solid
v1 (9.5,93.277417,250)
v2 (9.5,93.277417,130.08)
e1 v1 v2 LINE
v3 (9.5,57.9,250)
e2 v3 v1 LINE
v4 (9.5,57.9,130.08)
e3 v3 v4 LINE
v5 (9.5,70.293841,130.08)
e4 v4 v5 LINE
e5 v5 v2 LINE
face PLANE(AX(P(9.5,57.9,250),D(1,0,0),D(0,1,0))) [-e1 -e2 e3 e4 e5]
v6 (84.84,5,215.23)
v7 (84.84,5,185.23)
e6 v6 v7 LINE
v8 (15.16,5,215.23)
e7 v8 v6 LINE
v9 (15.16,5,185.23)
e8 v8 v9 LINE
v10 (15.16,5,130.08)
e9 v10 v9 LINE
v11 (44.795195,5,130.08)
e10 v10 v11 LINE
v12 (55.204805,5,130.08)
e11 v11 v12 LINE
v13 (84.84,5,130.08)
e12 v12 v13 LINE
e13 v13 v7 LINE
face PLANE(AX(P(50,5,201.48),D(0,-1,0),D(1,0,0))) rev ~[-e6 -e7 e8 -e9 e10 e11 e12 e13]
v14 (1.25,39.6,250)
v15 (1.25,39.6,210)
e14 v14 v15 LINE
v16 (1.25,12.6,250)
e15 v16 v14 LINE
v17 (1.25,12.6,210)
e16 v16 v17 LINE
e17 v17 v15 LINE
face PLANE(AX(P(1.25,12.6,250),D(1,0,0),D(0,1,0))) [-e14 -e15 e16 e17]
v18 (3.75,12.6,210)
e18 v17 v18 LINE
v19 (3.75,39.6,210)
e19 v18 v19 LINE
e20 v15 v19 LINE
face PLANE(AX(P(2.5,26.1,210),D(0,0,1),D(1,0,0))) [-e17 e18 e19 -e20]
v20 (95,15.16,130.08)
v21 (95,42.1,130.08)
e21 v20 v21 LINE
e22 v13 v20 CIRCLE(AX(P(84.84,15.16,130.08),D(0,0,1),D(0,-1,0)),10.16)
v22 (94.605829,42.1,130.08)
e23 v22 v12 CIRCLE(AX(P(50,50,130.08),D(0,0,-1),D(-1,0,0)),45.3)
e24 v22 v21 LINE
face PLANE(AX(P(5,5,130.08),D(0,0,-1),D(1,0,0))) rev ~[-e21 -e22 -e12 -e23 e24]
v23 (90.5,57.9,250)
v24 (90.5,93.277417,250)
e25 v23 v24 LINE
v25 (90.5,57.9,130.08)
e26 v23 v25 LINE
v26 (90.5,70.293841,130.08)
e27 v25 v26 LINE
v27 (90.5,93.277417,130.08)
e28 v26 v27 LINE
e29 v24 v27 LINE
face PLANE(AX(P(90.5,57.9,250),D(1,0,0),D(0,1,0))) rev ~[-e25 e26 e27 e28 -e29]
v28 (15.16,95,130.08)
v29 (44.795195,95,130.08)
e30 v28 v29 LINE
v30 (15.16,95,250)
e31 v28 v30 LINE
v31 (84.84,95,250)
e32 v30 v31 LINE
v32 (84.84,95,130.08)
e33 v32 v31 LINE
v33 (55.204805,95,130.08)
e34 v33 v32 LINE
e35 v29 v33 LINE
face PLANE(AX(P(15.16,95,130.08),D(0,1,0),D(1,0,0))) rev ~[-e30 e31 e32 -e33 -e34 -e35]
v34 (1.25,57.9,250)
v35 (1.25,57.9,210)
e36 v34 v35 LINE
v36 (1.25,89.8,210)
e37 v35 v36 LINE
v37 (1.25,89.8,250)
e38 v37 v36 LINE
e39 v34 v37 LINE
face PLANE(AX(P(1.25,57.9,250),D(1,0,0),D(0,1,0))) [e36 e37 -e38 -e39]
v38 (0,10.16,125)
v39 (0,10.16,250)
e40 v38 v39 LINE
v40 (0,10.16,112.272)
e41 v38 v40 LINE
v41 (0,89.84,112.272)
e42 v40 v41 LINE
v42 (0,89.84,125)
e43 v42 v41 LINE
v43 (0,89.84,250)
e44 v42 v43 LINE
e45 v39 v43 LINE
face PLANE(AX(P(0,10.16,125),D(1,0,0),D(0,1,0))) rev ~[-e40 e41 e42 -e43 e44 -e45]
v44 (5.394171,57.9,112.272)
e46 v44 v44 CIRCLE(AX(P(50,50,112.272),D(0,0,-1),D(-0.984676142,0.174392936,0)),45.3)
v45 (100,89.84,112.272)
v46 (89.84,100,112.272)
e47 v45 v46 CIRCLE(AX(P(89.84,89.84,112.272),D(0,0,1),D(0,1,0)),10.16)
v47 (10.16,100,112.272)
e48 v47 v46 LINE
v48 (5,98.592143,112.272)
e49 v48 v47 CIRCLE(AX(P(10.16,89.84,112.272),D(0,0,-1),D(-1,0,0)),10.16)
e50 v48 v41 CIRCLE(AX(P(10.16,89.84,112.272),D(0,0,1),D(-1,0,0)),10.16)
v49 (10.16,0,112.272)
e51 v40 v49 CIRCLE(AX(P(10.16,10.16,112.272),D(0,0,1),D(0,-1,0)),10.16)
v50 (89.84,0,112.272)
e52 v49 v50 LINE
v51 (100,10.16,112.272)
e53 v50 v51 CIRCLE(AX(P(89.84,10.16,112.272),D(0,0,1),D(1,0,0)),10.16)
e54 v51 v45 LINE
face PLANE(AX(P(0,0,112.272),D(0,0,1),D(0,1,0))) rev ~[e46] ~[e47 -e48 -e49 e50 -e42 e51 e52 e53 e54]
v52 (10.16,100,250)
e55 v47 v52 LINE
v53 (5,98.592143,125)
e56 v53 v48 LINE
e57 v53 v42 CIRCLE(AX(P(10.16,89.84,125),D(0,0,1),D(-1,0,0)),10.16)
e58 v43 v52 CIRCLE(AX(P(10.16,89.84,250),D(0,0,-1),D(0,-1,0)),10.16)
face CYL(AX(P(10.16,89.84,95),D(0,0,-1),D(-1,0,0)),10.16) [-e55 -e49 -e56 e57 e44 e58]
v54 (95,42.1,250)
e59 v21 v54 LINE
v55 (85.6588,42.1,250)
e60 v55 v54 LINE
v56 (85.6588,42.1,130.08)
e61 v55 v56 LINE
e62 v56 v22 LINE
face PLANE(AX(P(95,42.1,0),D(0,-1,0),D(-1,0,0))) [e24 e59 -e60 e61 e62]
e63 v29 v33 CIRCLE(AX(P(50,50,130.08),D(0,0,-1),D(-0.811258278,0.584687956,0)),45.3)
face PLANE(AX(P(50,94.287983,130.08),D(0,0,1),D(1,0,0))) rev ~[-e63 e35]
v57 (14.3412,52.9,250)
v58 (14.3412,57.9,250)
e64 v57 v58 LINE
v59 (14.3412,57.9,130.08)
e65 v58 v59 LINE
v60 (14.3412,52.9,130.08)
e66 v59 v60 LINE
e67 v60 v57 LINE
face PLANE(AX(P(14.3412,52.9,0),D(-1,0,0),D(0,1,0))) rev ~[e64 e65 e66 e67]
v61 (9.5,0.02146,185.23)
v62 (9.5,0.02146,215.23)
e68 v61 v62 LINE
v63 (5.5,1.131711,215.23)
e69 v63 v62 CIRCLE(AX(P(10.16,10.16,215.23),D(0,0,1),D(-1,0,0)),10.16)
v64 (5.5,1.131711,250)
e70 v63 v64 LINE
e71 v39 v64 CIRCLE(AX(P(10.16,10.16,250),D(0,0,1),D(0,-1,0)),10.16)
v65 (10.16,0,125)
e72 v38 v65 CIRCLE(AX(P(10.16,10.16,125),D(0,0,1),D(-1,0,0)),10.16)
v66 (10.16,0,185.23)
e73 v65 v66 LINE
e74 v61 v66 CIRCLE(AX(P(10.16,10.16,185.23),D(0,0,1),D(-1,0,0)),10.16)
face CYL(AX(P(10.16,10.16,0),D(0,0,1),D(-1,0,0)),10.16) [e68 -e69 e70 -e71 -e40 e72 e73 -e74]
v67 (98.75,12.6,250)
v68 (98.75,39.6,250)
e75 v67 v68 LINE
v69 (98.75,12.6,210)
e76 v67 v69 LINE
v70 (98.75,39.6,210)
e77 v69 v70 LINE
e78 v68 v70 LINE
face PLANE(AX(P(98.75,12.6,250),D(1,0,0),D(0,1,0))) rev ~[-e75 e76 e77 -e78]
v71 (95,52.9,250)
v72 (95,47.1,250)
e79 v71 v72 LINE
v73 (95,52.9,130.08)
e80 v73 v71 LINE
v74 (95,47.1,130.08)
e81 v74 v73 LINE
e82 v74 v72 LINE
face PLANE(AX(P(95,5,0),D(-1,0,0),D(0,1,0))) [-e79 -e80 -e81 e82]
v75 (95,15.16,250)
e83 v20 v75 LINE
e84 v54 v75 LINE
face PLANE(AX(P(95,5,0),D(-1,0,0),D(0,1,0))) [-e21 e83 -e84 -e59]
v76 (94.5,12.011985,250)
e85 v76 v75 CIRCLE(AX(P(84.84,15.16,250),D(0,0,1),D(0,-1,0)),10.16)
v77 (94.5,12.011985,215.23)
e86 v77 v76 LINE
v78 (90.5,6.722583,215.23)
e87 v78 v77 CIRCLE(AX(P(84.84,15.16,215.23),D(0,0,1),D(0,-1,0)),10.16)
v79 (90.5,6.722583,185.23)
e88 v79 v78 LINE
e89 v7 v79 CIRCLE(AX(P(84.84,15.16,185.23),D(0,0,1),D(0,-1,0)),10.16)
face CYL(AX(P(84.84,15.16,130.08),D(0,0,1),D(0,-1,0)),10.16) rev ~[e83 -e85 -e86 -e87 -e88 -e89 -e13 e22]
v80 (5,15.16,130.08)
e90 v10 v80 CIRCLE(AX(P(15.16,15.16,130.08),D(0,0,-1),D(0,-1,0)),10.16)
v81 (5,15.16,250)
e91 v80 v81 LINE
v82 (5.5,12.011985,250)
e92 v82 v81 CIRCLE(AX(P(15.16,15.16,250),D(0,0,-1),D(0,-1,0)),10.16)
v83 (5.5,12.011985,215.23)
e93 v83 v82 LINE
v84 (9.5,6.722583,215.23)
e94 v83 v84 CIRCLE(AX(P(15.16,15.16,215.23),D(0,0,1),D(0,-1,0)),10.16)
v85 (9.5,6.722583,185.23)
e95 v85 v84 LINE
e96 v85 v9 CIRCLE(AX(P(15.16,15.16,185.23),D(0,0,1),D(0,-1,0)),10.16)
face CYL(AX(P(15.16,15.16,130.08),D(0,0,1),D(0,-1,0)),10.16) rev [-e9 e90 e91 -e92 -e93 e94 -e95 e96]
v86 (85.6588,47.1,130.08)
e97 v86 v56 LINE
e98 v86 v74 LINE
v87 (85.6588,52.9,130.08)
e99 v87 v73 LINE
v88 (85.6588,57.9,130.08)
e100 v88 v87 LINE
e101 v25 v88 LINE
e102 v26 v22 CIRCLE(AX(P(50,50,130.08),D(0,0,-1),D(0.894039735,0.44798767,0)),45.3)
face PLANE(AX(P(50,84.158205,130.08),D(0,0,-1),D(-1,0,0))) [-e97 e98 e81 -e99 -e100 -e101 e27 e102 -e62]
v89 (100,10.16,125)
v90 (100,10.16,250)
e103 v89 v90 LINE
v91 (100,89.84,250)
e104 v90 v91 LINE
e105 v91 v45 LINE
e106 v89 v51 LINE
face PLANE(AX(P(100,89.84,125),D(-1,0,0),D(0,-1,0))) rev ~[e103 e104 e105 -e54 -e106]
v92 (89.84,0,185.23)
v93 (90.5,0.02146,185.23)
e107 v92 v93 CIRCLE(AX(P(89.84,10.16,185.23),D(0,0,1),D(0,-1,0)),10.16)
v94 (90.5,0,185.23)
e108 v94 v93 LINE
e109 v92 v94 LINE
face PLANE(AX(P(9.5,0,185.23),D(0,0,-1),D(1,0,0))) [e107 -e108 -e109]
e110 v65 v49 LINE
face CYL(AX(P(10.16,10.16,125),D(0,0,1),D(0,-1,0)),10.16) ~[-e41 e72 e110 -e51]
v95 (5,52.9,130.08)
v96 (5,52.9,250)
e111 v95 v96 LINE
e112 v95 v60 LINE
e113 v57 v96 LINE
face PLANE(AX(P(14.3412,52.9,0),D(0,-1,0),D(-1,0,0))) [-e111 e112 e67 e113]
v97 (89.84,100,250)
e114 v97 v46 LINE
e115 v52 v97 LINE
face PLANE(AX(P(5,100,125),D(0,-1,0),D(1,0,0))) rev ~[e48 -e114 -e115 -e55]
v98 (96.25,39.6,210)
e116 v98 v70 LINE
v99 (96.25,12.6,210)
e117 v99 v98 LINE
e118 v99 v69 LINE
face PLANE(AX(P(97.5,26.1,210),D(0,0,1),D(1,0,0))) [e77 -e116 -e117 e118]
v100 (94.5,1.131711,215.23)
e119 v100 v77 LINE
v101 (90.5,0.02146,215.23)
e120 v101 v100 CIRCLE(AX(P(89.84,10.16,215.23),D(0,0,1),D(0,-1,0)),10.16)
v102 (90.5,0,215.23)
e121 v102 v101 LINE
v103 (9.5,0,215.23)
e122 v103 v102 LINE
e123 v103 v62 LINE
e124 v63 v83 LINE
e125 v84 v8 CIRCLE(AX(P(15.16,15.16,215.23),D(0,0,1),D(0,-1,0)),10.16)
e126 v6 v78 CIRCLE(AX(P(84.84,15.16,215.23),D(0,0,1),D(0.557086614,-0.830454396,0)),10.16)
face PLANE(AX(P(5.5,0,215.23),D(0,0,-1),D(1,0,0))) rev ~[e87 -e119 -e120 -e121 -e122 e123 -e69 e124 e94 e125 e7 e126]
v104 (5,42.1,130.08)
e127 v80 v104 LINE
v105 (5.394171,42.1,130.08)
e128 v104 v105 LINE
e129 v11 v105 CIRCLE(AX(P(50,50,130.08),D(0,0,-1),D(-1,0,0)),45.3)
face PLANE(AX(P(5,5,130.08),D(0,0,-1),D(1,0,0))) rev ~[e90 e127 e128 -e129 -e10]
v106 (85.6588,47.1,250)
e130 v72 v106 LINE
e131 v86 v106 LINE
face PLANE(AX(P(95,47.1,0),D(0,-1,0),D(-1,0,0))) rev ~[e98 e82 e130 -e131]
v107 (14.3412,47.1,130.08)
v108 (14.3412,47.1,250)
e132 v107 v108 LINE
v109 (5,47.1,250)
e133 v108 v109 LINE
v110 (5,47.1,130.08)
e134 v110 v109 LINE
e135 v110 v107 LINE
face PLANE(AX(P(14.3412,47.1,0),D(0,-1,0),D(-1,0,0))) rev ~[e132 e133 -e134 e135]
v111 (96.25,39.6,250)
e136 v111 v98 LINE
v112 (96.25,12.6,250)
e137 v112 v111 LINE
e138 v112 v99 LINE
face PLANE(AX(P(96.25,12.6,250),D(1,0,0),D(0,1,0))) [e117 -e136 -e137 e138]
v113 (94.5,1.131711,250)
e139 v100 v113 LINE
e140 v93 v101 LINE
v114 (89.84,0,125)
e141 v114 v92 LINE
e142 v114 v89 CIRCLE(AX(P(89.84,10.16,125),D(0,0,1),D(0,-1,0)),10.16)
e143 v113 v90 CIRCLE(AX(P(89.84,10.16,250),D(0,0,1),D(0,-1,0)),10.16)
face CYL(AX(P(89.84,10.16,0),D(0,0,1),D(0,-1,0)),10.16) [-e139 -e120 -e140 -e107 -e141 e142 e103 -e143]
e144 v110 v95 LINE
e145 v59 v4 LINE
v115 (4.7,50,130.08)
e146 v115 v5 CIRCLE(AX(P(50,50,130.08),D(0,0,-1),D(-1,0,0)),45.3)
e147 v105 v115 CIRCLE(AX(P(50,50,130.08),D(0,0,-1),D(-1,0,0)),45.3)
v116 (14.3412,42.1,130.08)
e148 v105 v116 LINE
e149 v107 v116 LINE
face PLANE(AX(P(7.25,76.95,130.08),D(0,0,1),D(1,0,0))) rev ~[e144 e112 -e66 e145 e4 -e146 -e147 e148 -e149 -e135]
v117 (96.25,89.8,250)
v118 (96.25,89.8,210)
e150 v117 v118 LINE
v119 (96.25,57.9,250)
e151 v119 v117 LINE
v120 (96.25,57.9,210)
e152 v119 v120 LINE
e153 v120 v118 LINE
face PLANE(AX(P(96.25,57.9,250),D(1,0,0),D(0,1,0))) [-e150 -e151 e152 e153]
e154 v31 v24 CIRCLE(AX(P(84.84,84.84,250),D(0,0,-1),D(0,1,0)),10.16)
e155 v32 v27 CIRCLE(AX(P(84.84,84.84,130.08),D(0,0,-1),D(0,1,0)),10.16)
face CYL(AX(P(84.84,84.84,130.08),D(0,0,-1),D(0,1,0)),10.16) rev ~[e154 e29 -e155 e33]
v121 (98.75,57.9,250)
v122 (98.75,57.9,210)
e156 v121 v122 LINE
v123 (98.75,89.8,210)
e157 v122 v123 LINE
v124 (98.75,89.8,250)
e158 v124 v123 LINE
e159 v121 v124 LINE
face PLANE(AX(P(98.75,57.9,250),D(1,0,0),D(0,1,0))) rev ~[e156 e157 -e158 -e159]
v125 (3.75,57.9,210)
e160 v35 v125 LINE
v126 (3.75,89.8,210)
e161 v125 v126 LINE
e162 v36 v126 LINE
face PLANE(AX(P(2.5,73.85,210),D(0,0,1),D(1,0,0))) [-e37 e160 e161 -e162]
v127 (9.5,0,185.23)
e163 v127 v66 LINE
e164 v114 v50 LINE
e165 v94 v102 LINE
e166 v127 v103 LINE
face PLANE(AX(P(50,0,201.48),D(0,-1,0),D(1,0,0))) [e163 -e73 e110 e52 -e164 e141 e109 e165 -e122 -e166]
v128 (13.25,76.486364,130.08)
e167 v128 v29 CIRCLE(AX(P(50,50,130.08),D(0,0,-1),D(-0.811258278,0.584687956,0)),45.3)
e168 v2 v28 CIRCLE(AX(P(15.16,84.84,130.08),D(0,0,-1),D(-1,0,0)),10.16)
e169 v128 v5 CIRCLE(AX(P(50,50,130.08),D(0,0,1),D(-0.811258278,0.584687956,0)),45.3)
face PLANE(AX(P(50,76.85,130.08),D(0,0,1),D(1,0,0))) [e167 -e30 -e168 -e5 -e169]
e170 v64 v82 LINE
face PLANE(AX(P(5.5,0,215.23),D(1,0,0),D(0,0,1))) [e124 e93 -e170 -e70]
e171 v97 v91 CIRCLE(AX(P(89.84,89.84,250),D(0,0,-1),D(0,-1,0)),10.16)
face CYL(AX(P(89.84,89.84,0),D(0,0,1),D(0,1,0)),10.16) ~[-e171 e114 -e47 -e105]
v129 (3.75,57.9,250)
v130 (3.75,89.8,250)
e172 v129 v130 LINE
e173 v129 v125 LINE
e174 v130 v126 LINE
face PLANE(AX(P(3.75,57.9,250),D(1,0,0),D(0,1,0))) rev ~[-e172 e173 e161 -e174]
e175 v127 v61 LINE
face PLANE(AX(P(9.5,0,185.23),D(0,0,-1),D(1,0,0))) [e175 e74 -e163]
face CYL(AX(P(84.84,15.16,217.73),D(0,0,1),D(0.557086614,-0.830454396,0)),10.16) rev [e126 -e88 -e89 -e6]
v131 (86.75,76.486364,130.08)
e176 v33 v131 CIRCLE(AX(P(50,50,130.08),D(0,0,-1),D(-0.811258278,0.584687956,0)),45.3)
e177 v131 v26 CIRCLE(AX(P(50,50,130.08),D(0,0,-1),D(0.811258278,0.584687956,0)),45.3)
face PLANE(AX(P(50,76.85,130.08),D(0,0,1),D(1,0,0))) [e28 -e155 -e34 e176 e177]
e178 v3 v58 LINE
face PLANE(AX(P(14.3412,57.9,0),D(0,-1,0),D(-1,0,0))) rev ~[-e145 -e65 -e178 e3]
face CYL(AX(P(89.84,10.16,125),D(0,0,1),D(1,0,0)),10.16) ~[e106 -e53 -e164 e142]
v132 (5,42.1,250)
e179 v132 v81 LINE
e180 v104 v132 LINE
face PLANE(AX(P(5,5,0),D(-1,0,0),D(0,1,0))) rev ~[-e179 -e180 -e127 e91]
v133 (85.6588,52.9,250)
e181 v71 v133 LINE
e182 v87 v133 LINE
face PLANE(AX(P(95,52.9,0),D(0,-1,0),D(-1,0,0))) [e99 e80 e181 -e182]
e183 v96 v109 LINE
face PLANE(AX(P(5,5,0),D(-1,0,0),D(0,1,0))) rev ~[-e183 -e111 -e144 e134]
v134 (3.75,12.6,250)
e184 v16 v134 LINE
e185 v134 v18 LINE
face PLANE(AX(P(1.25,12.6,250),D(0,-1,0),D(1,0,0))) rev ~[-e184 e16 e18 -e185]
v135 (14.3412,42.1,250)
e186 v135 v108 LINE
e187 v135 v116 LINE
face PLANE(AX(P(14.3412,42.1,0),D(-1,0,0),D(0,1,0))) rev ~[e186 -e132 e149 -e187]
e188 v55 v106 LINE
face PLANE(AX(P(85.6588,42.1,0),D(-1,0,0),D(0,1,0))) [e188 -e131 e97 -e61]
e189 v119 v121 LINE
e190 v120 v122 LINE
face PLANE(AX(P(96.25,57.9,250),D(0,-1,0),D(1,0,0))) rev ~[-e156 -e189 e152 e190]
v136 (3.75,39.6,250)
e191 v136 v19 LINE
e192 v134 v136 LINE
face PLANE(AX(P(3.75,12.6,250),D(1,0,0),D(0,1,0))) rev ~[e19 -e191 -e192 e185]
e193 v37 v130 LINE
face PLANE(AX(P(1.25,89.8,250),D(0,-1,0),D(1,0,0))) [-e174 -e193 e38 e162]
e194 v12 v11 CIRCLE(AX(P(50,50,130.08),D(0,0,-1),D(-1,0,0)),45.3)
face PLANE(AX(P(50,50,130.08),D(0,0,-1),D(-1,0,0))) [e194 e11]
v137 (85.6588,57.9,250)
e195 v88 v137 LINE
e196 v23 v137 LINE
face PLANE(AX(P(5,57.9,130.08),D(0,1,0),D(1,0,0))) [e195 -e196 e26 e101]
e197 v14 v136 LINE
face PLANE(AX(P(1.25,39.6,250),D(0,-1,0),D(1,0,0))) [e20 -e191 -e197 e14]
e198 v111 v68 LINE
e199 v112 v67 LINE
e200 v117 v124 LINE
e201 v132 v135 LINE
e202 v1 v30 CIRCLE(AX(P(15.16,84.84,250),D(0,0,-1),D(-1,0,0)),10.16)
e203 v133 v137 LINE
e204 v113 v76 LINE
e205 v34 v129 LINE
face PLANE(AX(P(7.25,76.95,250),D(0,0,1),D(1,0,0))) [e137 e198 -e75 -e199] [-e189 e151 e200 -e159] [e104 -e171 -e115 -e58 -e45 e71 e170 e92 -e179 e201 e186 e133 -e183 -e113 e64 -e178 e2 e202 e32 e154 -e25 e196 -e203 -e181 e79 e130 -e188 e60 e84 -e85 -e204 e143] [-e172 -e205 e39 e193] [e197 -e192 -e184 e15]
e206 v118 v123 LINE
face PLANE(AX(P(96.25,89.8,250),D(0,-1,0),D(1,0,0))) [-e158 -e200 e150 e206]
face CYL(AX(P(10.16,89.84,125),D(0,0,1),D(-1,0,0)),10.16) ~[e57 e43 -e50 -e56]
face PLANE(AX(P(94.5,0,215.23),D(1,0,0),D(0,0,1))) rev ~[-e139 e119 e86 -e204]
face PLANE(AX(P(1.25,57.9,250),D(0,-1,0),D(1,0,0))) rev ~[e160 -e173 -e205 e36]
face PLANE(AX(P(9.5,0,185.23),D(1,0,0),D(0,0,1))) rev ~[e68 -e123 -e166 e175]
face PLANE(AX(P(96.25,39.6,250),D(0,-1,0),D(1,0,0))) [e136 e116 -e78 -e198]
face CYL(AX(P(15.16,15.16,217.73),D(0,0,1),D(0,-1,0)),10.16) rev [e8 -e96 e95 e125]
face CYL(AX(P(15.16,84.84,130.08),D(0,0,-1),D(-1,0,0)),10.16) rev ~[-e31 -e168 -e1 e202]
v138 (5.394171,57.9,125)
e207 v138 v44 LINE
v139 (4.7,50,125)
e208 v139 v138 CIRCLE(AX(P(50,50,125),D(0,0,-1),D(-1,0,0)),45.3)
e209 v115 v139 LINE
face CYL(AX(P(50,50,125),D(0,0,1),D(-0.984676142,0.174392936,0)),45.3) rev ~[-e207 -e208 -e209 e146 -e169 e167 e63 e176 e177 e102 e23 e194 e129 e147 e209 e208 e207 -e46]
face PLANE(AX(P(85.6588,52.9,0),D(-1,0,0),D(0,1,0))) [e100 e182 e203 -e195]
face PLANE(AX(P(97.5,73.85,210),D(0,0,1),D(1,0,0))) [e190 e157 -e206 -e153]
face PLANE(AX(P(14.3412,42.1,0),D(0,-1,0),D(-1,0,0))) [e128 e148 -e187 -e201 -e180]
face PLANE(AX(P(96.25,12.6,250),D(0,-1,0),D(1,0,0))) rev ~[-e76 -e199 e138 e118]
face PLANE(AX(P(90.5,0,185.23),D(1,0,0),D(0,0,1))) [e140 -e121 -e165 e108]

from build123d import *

# Parameters (mm, degrees)
SKETCH1_W                = 100
SKETCH1_H                = 100
BOSS_EXTRUDE1_DEPTH      = 250
SKETCH2_W                = 90
SKETCH2_H                = 90
CUT_EXTRUDE1_DEPTH       = 288.228132327
FILLET1_R                = 10.16
SKETCH3_W                = 9.3412
SKETCH3_H                = 5
BOSS_EXTRUDE2_DEPTH      = 250
SKETCH4_W                = 100
SKETCH4_H                = 125
CUT_EXTRUDE2_DEPTH       = 288.228132327
SKETCH6_W                = 90
SKETCH6_H                = 5.08
BOSS_EXTRUDE3_DEPTH      = 95
SKETCH7_R                = 45.3
CUT_EXTRUDE4_DEPTH       = 5.08
SKETCH10_R               = 48.300000047
BOSS_EXTRUDE4_DEPTH      = 30
SKETCH11_R               = 45.3
CUT_EXTRUDE5_DEPTH       = 30
SKETCH13_W               = 63.5
SKETCH13_H               = 63.5
CUT_EXTRUDE7_DEPTH       = 5
FILLET4_R                = 1.27
FILLET5_R                = 10.16
BOSS_EXTRUDE6_DEPTH      = 30
SKETCH16_R               = 45.3
CUT_EXTRUDE8_DEPTH       = 189.745860882
CUT_EXTRUDE10_DEPTH      = 210.821352584
SKETCH19_W               = 81
SKETCH19_H               = 64.77
CUT_EXTRUDE11_DEPTH      = 25.4
SKETCH20_W               = 81
SKETCH20_H               = 32.5
BOSS_EXTRUDE7_DEPTH      = 5
BOSS_EXTRUDE8_START      = 32.5
BOSS_EXTRUDE8_DEPTH      = 32.5
BOSS_EXTRUDE10_DEPTH     = 119.92
SKETCH25_W               = 73.5
SKETCH25_H               = 16.413635584
BOSS_EXTRUDE11_DEPTH     = 6.35
SKETCH26_W               = 17.272
SKETCH26_H               = 100
CUT_EXTRUDE12_DEPTH      = 132
SKETCH28_W               = 81
SKETCH28_H               = 37.9
CUT_EXTRUDE13_DEPTH      = 113.57
SKETCH29_W               = 2.5
SKETCH29_H               = 31.9
SKETCH29_H_2             = 27
CUT_EXTRUDE14_DEPTH      = 40
CUT_EXTRUDE15_DEPTH      = 198.405678703
CUT_EXTRUDE15_DEPTH_BACK = 119.92
SKETCH30_W               = 90
SKETCH30_H               = 37.9
BOSS_EXTRUDE12_DEPTH     = 119.92
CUT_EXTRUDE16_REACH      = 289.228
SKETCH33_W               = 89
SKETCH33_H               = 34.77
SKETCH35_W               = 4.5
SKETCH35_H               = 38.1
BOSS_EXTRUDE14_DEPTH     = 119.92


with BuildPart() as part:
    # Sketch1 → Boss-Extrude1 (new body)
    with BuildSketch(Plane.XY):
        with Locations((50, 50)):
            Rectangle(SKETCH1_W, SKETCH1_H)
    extrude(amount=BOSS_EXTRUDE1_DEPTH)

    # Sketch2 → Cut-Extrude1 (cut, through all)
    with BuildSketch(Plane(origin=(0, 0, 0), x_dir=(-1, 0, 0), z_dir=(0, 0, -1))):
        with Locations((-50, 50)):
            Rectangle(SKETCH2_W, SKETCH2_H)
    extrude(amount=-CUT_EXTRUDE1_DEPTH, mode=Mode.SUBTRACT)

    # Fillet1
    fillet1_edges = [part.edges().sort_by_distance(p)[0] for p in [
        (0, 100, 125),
        (0, 0, 125),
        (100, 0, 125),
        (100, 100, 125),
    ]]
    fillet(fillet1_edges, radius=FILLET1_R)

    # Sketch3 → Boss-Extrude2 (add, through all)
    with BuildSketch(Plane(origin=(0, 0, 0), x_dir=(-1, 0, 0), z_dir=(0, 0, -1))):
        with Locations((-90.3294, 55.4)):
            Rectangle(SKETCH3_W, SKETCH3_H)
        with Locations((-90.3294, 44.6)):
            Rectangle(SKETCH3_W, SKETCH3_H)
        with Locations((-9.6706, 44.6)):
            Rectangle(SKETCH3_W, SKETCH3_H)
        with Locations((-9.6706, 55.4)):
            Rectangle(SKETCH3_W, SKETCH3_H)
    extrude(amount=-BOSS_EXTRUDE2_DEPTH)

    # Sketch4 → Cut-Extrude2 (cut, through all)
    with BuildSketch(Plane(origin=(0, 100, 0), x_dir=(1, 0, 0), z_dir=(0, 1, 0))):
        with Locations((50, -62.5)):
            Rectangle(SKETCH4_W, SKETCH4_H)
    extrude(amount=-CUT_EXTRUDE2_DEPTH, mode=Mode.SUBTRACT)

    # Sketch6 → Boss-Extrude3 (add)
    with BuildSketch(Plane(origin=(0, 5, 0), x_dir=(1, 0, 0), z_dir=(0, 1, 0))):
        with Locations((50, -127.54)):
            Rectangle(SKETCH6_W, SKETCH6_H)
    extrude(amount=BOSS_EXTRUDE3_DEPTH)

    # Sketch7 → Cut-Extrude4 (cut)
    with BuildSketch(Plane(origin=(0, 0, 125), x_dir=(-1, 0, 0), z_dir=(0, 0, -1))):
        with Locations((-50, 50)):
            Circle(SKETCH7_R)
    extrude(amount=-CUT_EXTRUDE4_DEPTH, mode=Mode.SUBTRACT)

    # Sketch10 → Boss-Extrude4 (add)
    with BuildSketch(Plane(origin=(0, 0, 125), x_dir=(-1, 0, 0), z_dir=(0, 0, -1))):
        with Locations(Location((-50, 50, 0), (0, 0, 180))):
            Circle(SKETCH10_R)
    extrude(amount=BOSS_EXTRUDE4_DEPTH)

    # Sketch11 → Cut-Extrude5 (cut)
    with BuildSketch(Plane(origin=(0, 0, 95), x_dir=(-1, 0, 0), z_dir=(0, 0, -1))):
        with Locations((-50, 50)):
            Circle(SKETCH11_R)
    extrude(amount=-CUT_EXTRUDE5_DEPTH, mode=Mode.SUBTRACT)

    # Sketch13 → Cut-Extrude7 (cut)
    with BuildSketch(Plane.XZ):
        with Locations((50, 218.25)):
            Rectangle(SKETCH13_W, SKETCH13_H)
    extrude(amount=-CUT_EXTRUDE7_DEPTH, mode=Mode.SUBTRACT)

    # Fillet4
    fillet4_edges = [part.edges().sort_by_distance(p)[0] for p in [
        (81.75, 0, 218.25),
        (18.25, 0, 218.25),
        (50, 0, 186.5),
    ]]
    fillet(fillet4_edges, radius=FILLET4_R)

    # Fillet5
    fillet5_edges = [part.edges().sort_by_distance(p)[0] for p in [
        (95, 95, 190.04),
        (5, 95, 190.04),
        (5, 5, 190.04),
        (95, 5, 190.04),
    ]]
    fillet(fillet5_edges, radius=FILLET5_R)

    # Sketch14 → Boss-Extrude6 (add)
    with BuildSketch(Plane(origin=(0, 0, 125), x_dir=(-1, 0, 0), z_dir=(0, 0, -1))):
        with BuildLine():
            Line((-5, 100), (-95, 100))
            Line((-95, 100), (-95, 98.592142595))
            ThreePointArc((-95, 98.592142595), (-98.661881885, 94.879841267), (-100, 89.84))
            Line((-100, 89.84), (-100, 10.16))
            ThreePointArc((-100, 10.16), (-97.024204897, 2.975795103), (-89.84, 0))
            Line((-89.84, 0), (-10.16, 0))
            ThreePointArc((-10.16, 0), (-2.975795103, 2.975795103), (0, 10.16))
            Line((0, 10.16), (0, 89.84))
            ThreePointArc((0, 89.84), (-1.338118115, 94.879841267), (-5, 98.592142595))
            Line((-5, 98.592142595), (-5, 100))
        make_face()
    extrude(amount=BOSS_EXTRUDE6_DEPTH)

    # Sketch16 → Cut-Extrude8 (cut, through all)
    with BuildSketch(Plane.XY.offset(125)):
        with Locations(Location((50, 50, 0), (0, 0, 169.956667322))):
            Circle(SKETCH16_R)
    extrude(amount=-CUT_EXTRUDE8_DEPTH, mode=Mode.SUBTRACT)

    # Sketch18 → Cut-Extrude10 (cut, through all)
    with BuildSketch(Plane(origin=(0, 0, 95), x_dir=(-1, 0, 0), z_dir=(0, 0, -1))):
        with BuildLine():
            Line((-100, 89.84), (-100, 107.62))
            Line((-100, 107.62), (0, 107.62))
            Line((0, 107.62), (0, 89.84))
            ThreePointArc((0, 89.84), (-2.975795103, 97.024204897), (-10.16, 100))
            Line((-10.16, 100), (-89.84, 100))
            ThreePointArc((-89.84, 100), (-97.024204897, 97.024204897), (-100, 89.84))
        make_face()
    extrude(amount=-CUT_EXTRUDE10_DEPTH, mode=Mode.SUBTRACT)

    # Sketch19 → Cut-Extrude11 (cut)
    with BuildSketch(Plane.XZ):
        with Locations((50, 217.615)):
            Rectangle(SKETCH19_W, SKETCH19_H)
    extrude(amount=-CUT_EXTRUDE11_DEPTH, mode=Mode.SUBTRACT)

    # Sketch20 → Boss-Extrude7 (add)
    with BuildSketch(Plane.XZ):
        with Locations((50, 201.48)):
            Rectangle(SKETCH20_W, SKETCH20_H)
    extrude(amount=-BOSS_EXTRUDE7_DEPTH)

    # Sketch21 → Boss-Extrude8 (add)
    with BuildSketch(Plane.XY.offset(185.23).offset(BOSS_EXTRUDE8_START)):
        with BuildLine():
            Line((9.5, 5), (15.16, 5))
            ThreePointArc((15.16, 5), (12.201837845, 5.440181243), (9.5, 6.722583334))
            Line((9.5, 6.722583334), (9.5, 5))
        make_face()
        with BuildLine():
            ThreePointArc((90.5, 6.722583334), (87.798162155, 5.440181243), (84.84, 5))
            Line((84.84, 5), (90.5, 5))
            Line((90.5, 5), (90.5, 6.722583334))
        make_face()
    extrude(amount=-BOSS_EXTRUDE8_DEPTH)

    # Sketch24 → Boss-Extrude10 (add)
    with BuildSketch(Plane.XY.offset(130.08)):
        Polygon((95, 57.9), (86.75, 57.9), (86.75, 92.9), (13.25, 92.9), (13.25, 57.9), (5, 57.9), (5, 95), (95, 95), align=None)
    extrude(amount=BOSS_EXTRUDE10_DEPTH)

    # Sketch25 → Boss-Extrude11 (add)
    with BuildSketch(Plane.XY.offset(130.08)):
        with Locations((50, 84.693182208)):
            Rectangle(SKETCH25_W, SKETCH25_H)
    extrude(amount=BOSS_EXTRUDE11_DEPTH)

    # Sketch26 → Cut-Extrude12 (cut)
    with BuildSketch(Plane.ZY):
        with Locations((103.636, 50)):
            Rectangle(SKETCH26_W, SKETCH26_H)
    extrude(amount=-CUT_EXTRUDE12_DEPTH, mode=Mode.SUBTRACT)

    # Sketch28 → Cut-Extrude13 (cut)
    with BuildSketch(Plane.XY.offset(250)):
        with Locations((50, 76.85)):
            Rectangle(SKETCH28_W, SKETCH28_H)
    extrude(amount=-CUT_EXTRUDE13_DEPTH, mode=Mode.SUBTRACT)

    # Sketch29 → Cut-Extrude14 (cut)
    with BuildSketch(Plane.XY.offset(250)):
        with Locations((2.5, 73.85)):
            Rectangle(SKETCH29_W, SKETCH29_H)
        with Locations((2.5, 26.1)):
            Rectangle(SKETCH29_W, SKETCH29_H_2)
        with Locations((97.5, 26.1)):
            Rectangle(SKETCH29_W, SKETCH29_H_2)
        with Locations((97.5, 73.85)):
            Rectangle(SKETCH29_W, SKETCH29_H)
    extrude(amount=-CUT_EXTRUDE14_DEPTH, mode=Mode.SUBTRACT)

    # Sketch30 → Cut-Extrude15 (cut, two sides: drawn at the far end of the back side and taken through both)
    with BuildSketch(Plane.XY.offset(250).offset(-CUT_EXTRUDE15_DEPTH_BACK)):
        with Locations((50, 76.85)):
            Rectangle(SKETCH30_W, SKETCH30_H)
    extrude(amount=CUT_EXTRUDE15_DEPTH + CUT_EXTRUDE15_DEPTH_BACK, mode=Mode.SUBTRACT)

    # Sketch32 → Boss-Extrude12 (add)
    with BuildSketch(Plane.XY.offset(130.08)):
        with BuildLine():
            Line((15.16, 95), (84.84, 95))
            ThreePointArc((84.84, 95), (92.024204897, 92.024204897), (95, 84.84))
            Line((95, 84.84), (95, 95.8))
            Line((95, 95.8), (5, 95.8))
            Line((5, 95.8), (5, 84.84))
            ThreePointArc((5, 84.84), (7.975795103, 92.024204897), (15.16, 95))
        make_face()
    extrude(amount=BOSS_EXTRUDE12_DEPTH)

    # Cut-Extrude16: up to this face of the body (flat: up to its plane)
    cut_extrude16_end = Plane(part.part.faces().sort_by_distance((9.6706, 42.1, 190.04))[0])
    # Sketch33 → Cut-Extrude16 (cut, up to the picked face)
    with BuildSketch(Plane.XZ, mode=Mode.PRIVATE) as cut_extrude16_sk1:
        with Locations((50, 232.615)):
            Rectangle(SKETCH33_W, SKETCH33_H)
    cut_extrude16_tool1 = split(extrude(cut_extrude16_sk1.sketch, amount=-CUT_EXTRUDE16_REACH, mode=Mode.PRIVATE), bisect_by=cut_extrude16_end, keep=Keep.BOTH, mode=Mode.PRIVATE)
    add(cut_extrude16_tool1.solids().sort_by(Axis((50, 0, 232.615), (0, 1, 0)))[0], mode=Mode.SUBTRACT)

    # Sketch35 → Boss-Extrude14 (add)
    with BuildSketch(Plane.XY.offset(250)):
        with Locations((7.25, 76.95)):
            Rectangle(SKETCH35_W, SKETCH35_H)
        with Locations((92.75, 76.95)):
            Rectangle(SKETCH35_W, SKETCH35_H)
    extrude(amount=-BOSS_EXTRUDE14_DEPTH)


solid = part.part
